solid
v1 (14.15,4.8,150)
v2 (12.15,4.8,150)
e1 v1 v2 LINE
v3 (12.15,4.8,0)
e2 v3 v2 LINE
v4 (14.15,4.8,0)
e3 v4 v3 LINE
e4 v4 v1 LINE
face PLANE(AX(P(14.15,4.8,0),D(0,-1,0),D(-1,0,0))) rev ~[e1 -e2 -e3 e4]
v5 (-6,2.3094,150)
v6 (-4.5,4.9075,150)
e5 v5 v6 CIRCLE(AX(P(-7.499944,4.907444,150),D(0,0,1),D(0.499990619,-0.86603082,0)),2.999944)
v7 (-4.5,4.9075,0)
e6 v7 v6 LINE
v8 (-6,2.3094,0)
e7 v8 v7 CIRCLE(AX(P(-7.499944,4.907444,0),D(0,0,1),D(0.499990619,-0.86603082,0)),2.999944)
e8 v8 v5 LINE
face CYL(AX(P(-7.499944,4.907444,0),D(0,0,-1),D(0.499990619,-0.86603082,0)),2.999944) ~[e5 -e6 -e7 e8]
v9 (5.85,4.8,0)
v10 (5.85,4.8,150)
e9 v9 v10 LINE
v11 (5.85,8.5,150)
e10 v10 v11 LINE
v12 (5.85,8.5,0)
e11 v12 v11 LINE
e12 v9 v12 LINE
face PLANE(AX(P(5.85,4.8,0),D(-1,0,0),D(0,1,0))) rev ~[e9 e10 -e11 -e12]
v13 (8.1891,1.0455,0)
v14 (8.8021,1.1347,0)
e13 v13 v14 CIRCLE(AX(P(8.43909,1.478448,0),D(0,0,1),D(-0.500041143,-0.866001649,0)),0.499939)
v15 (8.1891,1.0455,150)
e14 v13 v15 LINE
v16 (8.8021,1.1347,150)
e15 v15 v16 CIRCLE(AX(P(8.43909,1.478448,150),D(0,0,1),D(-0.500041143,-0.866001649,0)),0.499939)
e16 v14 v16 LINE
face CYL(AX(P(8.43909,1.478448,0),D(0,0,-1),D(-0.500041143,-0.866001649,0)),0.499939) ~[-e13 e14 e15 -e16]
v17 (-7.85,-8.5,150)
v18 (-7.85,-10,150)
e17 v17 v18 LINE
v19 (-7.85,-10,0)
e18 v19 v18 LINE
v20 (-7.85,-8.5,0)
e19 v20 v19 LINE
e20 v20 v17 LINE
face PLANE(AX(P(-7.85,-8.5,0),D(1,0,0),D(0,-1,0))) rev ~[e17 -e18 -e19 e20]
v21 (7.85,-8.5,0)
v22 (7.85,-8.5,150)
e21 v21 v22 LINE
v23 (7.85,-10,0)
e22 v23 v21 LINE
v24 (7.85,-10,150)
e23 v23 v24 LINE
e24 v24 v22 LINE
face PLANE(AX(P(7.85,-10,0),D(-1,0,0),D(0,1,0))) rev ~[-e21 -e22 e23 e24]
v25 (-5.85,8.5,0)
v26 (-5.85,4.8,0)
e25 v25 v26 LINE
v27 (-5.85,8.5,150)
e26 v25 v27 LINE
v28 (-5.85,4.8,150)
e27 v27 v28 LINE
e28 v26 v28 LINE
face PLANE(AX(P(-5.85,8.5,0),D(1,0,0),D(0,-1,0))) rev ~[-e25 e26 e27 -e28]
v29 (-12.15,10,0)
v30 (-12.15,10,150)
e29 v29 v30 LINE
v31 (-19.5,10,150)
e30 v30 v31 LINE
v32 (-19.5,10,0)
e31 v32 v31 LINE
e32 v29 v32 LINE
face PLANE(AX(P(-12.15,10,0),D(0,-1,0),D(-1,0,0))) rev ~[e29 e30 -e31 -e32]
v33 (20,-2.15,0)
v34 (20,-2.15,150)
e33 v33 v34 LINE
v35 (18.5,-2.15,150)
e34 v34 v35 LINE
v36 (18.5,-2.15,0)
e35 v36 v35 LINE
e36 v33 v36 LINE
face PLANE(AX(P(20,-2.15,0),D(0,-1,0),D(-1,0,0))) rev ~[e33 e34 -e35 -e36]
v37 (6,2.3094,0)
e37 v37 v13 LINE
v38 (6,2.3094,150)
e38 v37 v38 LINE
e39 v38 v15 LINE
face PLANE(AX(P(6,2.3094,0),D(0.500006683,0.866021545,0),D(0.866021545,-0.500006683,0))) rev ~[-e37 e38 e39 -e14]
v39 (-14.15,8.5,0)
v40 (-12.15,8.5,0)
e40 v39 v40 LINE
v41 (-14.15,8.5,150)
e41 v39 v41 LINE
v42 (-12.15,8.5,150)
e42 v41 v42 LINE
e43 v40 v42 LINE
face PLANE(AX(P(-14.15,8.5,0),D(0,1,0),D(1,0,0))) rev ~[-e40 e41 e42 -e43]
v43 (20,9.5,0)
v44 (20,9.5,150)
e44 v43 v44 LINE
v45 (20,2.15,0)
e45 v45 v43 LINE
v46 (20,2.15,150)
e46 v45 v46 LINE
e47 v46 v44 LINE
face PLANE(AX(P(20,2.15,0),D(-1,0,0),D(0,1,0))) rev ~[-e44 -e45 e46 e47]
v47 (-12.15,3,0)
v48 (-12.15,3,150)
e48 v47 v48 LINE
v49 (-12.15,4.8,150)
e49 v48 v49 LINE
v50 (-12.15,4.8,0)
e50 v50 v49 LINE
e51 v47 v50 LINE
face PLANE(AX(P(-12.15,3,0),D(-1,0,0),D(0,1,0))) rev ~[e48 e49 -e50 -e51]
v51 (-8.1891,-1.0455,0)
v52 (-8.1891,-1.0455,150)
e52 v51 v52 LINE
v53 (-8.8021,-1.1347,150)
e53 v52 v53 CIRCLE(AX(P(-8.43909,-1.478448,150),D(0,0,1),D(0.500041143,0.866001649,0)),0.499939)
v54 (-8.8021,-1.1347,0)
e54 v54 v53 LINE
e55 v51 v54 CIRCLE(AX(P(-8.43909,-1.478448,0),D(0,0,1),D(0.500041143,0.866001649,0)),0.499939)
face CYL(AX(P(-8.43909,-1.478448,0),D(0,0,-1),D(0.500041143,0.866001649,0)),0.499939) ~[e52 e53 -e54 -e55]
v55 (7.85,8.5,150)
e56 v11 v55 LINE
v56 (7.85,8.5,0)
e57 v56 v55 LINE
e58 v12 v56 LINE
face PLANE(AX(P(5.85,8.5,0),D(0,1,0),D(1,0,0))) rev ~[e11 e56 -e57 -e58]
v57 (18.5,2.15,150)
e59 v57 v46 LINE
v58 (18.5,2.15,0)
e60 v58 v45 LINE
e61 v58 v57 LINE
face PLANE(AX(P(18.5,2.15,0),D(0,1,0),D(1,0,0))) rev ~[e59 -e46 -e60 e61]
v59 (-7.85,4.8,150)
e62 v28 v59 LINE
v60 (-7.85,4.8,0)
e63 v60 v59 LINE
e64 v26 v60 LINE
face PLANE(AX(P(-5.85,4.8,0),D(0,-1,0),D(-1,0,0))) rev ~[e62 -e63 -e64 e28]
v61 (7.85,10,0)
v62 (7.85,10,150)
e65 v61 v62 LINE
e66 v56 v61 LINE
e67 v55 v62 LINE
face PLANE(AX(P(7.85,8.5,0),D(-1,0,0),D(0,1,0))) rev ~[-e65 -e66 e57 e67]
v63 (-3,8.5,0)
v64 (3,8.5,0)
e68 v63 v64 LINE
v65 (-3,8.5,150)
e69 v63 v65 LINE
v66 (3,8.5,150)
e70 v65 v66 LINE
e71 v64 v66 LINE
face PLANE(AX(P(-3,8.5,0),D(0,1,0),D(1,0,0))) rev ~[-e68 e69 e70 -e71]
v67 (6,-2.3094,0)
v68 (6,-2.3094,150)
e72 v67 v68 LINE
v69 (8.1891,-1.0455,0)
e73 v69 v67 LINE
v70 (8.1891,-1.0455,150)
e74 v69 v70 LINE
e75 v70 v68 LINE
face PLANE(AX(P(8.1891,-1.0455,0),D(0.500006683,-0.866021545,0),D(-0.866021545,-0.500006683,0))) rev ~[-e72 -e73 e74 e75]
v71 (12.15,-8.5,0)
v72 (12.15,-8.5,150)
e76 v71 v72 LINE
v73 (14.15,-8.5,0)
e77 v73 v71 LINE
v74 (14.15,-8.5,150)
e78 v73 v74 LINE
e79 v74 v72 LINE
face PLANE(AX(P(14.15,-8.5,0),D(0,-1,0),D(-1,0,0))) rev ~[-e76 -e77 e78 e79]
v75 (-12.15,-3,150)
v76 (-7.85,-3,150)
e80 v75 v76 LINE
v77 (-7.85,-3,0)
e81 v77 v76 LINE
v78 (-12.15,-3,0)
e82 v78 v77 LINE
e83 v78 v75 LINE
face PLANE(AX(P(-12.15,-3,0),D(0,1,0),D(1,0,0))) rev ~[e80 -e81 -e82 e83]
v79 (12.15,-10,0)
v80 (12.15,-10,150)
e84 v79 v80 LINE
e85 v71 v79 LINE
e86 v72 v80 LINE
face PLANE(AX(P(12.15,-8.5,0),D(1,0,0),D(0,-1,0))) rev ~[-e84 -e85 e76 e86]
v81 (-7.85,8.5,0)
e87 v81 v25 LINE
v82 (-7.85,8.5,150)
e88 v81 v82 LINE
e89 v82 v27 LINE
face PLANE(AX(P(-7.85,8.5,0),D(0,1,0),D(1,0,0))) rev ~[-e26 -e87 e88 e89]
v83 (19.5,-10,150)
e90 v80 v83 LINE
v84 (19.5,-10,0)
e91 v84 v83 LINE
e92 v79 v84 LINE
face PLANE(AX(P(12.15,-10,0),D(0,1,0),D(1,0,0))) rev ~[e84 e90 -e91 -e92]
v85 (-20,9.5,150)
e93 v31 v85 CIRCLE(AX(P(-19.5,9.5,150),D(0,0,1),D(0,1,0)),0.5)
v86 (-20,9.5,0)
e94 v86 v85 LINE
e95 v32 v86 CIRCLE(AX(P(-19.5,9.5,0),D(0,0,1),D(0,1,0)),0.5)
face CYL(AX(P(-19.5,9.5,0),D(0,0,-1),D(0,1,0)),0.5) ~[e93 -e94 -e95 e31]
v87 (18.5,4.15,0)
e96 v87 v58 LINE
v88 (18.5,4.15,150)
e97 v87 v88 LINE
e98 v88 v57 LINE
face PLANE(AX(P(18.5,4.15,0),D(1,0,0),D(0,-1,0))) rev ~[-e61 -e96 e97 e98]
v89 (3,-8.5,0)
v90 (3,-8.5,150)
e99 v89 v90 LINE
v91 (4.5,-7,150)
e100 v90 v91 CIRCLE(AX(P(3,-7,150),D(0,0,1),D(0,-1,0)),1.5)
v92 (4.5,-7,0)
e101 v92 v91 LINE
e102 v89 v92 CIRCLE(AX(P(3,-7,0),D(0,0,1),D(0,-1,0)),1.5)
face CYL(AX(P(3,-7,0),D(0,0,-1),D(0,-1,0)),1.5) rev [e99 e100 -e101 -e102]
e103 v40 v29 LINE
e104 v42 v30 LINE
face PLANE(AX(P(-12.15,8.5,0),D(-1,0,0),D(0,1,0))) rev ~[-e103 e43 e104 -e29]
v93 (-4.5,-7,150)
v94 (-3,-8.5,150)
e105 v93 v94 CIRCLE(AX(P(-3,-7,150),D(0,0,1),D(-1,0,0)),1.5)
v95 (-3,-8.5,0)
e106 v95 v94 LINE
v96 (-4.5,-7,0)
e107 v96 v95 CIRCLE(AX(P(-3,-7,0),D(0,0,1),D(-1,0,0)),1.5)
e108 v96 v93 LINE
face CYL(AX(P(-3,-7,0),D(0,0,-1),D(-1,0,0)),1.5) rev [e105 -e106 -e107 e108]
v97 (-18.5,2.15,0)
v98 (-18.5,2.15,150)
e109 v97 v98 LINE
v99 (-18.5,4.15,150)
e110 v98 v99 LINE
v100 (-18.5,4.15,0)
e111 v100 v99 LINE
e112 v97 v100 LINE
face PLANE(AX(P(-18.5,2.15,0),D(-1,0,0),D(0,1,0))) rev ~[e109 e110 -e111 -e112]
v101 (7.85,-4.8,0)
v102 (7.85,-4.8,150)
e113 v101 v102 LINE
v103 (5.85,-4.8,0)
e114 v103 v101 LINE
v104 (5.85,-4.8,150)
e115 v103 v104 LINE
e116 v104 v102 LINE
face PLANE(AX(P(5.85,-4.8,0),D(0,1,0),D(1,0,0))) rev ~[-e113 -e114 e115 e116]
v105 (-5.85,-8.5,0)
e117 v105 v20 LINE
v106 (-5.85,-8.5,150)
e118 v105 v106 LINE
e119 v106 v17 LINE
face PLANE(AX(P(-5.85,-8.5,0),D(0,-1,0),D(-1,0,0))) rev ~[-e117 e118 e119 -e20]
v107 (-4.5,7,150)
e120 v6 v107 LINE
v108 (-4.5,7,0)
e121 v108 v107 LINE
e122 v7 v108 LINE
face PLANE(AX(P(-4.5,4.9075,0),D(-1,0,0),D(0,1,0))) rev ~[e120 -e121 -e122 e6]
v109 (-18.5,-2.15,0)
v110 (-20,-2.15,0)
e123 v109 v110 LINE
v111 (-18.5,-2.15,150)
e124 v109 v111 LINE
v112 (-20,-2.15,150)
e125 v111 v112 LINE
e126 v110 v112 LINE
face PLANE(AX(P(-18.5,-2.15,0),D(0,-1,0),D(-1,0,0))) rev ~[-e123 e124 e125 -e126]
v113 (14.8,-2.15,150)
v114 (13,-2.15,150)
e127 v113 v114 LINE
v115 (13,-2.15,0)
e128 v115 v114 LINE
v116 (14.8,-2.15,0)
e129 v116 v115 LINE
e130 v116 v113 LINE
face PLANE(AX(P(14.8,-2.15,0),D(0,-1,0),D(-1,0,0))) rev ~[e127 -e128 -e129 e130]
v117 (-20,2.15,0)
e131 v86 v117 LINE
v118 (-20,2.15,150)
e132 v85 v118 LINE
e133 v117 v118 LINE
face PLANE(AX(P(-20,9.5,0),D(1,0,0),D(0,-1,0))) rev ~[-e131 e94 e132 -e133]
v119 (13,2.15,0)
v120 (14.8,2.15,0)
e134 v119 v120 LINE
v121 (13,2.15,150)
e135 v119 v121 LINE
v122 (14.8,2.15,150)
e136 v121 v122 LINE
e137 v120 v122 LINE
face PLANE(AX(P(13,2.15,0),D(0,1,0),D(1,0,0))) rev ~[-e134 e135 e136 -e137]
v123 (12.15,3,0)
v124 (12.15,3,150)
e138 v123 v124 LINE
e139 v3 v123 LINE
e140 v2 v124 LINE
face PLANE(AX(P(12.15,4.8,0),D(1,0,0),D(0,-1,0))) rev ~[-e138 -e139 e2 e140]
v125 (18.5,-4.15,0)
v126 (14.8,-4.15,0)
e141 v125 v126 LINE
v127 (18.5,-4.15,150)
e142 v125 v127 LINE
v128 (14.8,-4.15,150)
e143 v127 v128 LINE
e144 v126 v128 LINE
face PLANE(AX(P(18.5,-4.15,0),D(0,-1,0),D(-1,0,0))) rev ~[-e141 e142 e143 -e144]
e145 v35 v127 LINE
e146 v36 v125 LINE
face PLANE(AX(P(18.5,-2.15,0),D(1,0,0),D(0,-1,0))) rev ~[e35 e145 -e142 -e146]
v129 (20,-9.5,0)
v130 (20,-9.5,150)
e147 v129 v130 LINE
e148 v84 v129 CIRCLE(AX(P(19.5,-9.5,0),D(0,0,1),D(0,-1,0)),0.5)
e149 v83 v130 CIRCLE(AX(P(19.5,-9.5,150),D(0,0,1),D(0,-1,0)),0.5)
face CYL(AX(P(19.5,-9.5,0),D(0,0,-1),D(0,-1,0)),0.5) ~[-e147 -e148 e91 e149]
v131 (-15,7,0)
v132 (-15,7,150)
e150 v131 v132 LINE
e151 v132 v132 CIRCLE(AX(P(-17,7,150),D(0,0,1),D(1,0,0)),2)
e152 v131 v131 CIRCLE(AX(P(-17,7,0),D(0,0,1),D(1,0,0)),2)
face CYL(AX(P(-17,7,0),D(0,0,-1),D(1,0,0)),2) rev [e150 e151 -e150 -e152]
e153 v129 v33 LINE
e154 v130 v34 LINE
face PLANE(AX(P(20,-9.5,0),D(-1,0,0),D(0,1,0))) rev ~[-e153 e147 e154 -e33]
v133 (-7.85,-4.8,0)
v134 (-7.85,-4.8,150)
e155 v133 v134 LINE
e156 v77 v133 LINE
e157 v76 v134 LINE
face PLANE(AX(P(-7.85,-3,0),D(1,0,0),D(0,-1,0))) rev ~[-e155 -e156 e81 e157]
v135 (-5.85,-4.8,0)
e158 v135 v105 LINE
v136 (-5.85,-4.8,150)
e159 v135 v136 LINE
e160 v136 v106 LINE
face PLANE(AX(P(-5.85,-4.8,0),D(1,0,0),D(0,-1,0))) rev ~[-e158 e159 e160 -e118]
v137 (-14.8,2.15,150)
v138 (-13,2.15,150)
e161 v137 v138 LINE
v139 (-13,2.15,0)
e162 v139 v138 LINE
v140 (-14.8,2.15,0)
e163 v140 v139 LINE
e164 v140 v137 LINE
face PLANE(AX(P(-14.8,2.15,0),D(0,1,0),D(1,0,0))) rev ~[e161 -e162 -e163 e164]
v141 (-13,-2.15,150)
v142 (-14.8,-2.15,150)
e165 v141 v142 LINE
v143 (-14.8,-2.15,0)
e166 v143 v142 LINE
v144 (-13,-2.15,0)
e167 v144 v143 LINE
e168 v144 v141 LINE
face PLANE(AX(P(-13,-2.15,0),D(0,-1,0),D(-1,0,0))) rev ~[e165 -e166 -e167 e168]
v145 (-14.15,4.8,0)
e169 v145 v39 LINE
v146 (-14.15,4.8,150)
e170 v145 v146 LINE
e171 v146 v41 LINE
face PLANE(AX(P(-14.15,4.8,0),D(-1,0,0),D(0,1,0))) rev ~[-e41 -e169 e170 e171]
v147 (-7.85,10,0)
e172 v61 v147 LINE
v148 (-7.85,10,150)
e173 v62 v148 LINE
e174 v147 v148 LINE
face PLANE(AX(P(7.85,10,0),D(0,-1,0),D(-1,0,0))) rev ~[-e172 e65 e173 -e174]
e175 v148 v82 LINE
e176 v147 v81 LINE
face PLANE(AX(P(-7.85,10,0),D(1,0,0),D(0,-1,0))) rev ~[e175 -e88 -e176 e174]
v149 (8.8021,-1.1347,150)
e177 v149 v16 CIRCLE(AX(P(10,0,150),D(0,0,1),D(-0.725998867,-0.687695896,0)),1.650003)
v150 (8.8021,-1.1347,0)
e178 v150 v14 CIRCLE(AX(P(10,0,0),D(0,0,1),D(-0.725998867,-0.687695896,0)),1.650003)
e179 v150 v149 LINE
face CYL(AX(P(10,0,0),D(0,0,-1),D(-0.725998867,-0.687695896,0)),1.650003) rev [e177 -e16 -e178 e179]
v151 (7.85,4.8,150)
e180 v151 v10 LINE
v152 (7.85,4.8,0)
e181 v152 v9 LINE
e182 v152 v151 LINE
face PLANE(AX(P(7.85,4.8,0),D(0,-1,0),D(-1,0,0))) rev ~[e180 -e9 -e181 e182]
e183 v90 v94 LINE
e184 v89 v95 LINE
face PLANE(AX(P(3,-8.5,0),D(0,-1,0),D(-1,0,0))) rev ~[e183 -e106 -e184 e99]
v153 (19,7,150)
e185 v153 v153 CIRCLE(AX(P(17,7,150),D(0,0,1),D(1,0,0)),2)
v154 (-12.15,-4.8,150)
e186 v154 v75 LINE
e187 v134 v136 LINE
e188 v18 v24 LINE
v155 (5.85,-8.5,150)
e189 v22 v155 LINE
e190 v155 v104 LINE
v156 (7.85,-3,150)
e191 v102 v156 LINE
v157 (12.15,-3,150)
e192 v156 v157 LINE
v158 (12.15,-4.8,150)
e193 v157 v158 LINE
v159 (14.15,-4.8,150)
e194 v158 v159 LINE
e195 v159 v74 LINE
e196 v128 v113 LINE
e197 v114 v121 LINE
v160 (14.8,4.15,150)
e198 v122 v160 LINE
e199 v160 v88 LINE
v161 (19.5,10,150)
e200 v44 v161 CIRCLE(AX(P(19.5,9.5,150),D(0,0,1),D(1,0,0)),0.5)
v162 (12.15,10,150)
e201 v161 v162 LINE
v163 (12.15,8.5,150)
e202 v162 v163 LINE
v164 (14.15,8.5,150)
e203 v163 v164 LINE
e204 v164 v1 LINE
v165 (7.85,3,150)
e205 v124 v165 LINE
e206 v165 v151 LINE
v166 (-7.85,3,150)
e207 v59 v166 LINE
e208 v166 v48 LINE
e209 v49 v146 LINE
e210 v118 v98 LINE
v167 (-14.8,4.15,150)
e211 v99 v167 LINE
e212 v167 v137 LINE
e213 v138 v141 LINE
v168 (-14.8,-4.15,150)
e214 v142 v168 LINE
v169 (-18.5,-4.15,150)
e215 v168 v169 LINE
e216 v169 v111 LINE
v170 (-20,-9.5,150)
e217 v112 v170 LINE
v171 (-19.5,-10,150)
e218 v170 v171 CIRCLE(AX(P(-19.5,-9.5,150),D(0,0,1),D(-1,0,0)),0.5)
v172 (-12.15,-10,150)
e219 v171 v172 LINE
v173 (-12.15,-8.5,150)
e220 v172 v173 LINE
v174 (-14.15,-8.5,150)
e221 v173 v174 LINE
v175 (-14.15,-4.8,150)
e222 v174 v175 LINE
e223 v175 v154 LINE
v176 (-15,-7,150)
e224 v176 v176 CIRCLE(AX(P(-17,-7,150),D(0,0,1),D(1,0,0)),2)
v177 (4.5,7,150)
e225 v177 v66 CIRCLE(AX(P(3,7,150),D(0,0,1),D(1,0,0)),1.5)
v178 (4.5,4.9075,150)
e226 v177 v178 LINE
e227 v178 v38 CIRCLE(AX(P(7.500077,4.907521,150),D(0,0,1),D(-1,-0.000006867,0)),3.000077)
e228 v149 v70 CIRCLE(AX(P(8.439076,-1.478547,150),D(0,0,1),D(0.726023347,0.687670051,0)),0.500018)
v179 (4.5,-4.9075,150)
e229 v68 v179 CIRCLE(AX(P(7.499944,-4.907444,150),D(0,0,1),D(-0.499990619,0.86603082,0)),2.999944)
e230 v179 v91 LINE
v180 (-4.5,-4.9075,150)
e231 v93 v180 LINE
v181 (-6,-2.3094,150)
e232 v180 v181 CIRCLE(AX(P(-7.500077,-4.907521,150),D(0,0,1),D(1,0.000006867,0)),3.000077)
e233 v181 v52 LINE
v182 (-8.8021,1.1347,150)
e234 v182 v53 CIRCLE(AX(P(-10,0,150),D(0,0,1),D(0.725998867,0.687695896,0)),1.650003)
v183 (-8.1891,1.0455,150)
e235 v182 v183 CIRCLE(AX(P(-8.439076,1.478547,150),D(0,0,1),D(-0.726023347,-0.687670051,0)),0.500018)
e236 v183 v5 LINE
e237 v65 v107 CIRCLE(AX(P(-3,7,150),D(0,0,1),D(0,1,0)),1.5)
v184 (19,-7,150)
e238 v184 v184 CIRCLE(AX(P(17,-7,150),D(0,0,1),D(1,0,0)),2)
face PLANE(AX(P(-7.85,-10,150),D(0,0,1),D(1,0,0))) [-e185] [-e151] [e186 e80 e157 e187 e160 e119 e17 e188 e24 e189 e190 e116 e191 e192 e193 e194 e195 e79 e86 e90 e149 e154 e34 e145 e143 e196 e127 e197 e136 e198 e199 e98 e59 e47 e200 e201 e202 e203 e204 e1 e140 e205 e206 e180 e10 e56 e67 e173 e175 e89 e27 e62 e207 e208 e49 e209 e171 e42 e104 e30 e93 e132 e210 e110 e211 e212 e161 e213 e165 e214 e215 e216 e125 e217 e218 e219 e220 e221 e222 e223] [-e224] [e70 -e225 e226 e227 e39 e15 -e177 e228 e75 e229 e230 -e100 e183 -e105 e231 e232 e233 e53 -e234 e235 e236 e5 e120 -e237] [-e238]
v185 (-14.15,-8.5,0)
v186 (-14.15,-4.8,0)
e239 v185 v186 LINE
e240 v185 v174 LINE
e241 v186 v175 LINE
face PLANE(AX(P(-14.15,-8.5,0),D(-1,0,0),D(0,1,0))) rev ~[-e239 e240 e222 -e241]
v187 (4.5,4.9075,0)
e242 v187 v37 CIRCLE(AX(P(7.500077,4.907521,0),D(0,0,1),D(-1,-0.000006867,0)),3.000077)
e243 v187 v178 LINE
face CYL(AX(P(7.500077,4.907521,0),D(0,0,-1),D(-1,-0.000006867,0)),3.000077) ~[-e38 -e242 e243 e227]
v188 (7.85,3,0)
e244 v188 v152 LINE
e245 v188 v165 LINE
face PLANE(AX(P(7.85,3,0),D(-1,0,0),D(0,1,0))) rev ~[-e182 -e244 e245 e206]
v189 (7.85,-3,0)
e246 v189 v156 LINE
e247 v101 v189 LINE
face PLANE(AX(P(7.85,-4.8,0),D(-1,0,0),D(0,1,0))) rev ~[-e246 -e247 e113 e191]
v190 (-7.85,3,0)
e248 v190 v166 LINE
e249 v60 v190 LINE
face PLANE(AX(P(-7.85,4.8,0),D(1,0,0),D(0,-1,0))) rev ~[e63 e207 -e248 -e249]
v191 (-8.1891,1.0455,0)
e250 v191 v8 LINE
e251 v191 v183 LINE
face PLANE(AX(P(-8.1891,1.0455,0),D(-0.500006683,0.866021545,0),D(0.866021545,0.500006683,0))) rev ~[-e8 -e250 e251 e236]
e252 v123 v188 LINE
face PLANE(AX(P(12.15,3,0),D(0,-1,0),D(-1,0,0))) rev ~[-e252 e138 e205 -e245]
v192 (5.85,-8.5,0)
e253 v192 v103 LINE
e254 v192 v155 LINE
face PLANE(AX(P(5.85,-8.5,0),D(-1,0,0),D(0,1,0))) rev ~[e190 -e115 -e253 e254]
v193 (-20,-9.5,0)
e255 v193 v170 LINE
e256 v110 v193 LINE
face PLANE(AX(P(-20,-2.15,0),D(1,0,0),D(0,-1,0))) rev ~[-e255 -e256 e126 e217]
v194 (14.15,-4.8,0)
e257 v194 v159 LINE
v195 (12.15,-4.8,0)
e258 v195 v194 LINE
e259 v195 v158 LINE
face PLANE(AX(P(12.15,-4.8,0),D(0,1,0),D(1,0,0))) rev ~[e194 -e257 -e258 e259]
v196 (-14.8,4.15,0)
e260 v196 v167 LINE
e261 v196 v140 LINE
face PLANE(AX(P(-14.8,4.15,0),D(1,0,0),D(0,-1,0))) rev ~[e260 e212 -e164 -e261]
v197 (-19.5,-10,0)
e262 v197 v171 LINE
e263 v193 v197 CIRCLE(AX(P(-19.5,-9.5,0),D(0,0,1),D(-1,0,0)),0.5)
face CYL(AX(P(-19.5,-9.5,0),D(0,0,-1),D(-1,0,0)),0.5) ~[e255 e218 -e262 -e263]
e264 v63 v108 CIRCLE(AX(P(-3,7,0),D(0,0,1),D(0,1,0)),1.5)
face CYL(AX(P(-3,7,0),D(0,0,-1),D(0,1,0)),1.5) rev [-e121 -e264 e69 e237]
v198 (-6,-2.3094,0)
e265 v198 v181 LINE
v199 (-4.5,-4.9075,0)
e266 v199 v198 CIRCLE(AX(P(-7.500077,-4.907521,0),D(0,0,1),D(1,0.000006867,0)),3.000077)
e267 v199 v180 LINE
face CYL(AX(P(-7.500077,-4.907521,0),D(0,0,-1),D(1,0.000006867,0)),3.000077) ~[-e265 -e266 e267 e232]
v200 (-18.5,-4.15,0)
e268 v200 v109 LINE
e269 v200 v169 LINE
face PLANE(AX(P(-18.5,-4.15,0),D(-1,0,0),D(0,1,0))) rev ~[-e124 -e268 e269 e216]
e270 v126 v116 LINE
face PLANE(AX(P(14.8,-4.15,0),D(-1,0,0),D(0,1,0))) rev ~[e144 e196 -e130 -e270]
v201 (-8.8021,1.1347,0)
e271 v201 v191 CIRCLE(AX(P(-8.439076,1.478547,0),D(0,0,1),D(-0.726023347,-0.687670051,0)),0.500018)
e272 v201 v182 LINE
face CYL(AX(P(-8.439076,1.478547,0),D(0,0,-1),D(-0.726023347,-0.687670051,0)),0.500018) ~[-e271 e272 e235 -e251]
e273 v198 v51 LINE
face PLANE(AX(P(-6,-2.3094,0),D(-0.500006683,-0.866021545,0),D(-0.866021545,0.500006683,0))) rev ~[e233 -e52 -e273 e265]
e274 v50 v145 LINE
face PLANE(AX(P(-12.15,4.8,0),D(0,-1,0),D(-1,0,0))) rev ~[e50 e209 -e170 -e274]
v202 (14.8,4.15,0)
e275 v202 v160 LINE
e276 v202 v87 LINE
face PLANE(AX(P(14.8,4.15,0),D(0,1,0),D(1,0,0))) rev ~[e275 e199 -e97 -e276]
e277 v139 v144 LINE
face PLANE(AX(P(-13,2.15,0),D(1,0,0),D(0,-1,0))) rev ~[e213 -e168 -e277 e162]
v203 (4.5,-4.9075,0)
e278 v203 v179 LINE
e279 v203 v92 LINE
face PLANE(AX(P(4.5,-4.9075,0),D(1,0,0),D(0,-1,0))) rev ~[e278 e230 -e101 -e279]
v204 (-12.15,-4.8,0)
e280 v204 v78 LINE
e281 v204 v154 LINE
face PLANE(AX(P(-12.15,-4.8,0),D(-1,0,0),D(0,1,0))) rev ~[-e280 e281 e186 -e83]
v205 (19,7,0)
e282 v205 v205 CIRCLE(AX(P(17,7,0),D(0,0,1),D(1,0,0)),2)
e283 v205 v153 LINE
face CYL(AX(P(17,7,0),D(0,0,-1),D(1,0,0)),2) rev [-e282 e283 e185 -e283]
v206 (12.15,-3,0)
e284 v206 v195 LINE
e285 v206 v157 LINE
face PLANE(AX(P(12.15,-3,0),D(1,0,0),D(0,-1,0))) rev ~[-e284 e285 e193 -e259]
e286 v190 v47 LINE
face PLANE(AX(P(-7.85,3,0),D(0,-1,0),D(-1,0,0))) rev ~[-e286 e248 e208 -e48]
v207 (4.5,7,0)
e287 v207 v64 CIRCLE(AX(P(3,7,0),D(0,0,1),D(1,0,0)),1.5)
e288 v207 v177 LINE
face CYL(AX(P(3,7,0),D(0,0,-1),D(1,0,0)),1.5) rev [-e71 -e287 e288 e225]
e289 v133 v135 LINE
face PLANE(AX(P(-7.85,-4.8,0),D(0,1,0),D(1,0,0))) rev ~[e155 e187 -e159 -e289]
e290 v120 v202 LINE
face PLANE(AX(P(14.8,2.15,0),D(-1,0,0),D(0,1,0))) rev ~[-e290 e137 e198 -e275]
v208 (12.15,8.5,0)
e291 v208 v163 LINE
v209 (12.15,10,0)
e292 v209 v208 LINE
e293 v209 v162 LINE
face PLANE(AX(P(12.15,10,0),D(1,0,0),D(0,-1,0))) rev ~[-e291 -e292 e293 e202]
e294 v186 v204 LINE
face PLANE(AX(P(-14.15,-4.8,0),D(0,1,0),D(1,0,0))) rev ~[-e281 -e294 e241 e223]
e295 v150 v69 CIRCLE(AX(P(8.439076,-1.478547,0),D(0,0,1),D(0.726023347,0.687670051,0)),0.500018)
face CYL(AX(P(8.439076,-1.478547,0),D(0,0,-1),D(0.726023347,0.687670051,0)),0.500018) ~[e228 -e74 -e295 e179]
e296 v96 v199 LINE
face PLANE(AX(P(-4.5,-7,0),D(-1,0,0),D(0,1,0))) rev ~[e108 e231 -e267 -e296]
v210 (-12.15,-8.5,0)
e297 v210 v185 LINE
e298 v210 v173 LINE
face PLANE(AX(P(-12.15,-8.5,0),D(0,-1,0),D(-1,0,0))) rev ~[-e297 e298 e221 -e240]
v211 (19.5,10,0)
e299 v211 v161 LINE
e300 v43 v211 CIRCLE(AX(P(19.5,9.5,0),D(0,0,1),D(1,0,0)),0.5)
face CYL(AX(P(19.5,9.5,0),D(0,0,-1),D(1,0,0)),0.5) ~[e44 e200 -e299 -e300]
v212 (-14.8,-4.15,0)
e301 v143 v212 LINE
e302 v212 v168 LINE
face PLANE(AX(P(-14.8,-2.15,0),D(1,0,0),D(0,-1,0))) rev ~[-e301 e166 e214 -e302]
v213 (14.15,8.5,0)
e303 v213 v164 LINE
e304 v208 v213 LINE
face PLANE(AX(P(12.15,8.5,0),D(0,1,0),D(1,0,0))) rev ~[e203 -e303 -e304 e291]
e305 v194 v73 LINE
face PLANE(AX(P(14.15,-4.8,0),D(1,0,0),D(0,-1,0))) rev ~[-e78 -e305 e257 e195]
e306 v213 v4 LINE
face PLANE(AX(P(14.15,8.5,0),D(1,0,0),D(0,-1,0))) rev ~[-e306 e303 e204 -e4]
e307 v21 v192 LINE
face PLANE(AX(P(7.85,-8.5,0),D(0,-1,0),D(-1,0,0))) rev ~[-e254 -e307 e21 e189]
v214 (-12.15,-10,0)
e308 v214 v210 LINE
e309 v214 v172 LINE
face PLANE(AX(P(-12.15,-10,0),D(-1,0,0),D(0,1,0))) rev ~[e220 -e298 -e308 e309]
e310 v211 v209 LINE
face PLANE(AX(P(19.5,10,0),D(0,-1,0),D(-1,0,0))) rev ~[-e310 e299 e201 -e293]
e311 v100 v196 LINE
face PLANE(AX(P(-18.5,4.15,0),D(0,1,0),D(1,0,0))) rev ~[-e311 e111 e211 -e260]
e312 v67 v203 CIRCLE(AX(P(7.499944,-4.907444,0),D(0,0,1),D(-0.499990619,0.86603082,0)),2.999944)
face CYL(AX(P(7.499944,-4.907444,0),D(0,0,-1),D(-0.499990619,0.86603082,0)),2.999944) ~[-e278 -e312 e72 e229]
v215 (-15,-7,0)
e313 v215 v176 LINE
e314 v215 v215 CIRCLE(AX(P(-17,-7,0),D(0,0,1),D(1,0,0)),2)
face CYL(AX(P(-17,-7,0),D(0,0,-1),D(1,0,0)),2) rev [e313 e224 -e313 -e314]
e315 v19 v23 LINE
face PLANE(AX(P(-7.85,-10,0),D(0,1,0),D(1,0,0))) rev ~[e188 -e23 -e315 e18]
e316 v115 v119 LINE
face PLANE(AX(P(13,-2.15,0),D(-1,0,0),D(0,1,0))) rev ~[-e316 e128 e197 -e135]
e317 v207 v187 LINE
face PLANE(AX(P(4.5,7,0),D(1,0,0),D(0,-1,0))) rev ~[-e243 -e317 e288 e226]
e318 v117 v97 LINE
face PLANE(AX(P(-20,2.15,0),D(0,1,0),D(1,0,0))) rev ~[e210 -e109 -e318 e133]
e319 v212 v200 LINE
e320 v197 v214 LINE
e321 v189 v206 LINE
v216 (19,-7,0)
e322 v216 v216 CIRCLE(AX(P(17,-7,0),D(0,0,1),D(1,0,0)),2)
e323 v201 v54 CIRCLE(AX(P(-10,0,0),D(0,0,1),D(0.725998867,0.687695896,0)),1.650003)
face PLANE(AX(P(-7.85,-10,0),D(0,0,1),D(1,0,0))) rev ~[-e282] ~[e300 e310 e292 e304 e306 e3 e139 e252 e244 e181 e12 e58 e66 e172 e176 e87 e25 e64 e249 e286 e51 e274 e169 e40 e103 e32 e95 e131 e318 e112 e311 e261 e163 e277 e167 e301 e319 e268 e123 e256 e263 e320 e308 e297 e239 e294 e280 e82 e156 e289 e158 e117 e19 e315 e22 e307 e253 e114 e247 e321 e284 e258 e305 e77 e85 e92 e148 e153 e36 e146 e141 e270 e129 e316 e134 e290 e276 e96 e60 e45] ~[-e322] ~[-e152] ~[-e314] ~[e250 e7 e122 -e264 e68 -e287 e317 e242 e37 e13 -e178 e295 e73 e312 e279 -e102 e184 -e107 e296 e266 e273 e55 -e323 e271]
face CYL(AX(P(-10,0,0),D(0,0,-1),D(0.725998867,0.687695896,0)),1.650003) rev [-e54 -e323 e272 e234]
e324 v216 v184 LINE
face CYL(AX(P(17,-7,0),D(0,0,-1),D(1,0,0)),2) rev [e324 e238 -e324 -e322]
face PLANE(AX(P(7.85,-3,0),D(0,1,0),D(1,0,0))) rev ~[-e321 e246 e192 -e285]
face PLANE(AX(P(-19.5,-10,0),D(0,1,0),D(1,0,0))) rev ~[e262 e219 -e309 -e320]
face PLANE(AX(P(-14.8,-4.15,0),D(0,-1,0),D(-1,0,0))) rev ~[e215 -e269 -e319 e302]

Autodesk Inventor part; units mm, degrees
ref_plane "YZ Plane" through (0, 0, 0) normal (1, 0, 0) x (0, 1, 0)
ref_plane "XZ Plane" through (0, 0, 0) normal (0, 1, 0) x (-1, 0, 0)
ref_plane "XY Plane" through (0, 0, 0) normal (0, 0, 1) x (1, 0, 0)
sketch "スケッチ1" plane through (-7.85, -10, 0) normal (0, 0, 1) x (1, 0, 0)
  line L0 (-6.3, 14.8) -> (-6.3, 18.5) projected
  line L1 (0, 13) -> (-4.3, 13) projected
  line L2 (-4.3, 13) -> (-4.3, 14.8) projected
  line L3 (-4.3, 14.8) -> (-6.3, 14.8) projected
  line L4 (-6.3, 14.8) -> (-6.3, 18.5) projected
  line L5 (-6.3, 18.5) -> (-4.3, 18.5) projected
  line L6 (-4.3, 18.5) -> (-4.3, 20) projected
  line L7 (-4.3, 20) -> (-11.65, 20) projected
  arc A0 (-11.65, 20) -> (-12.15, 19.5) centre (-11.65, 19.5) ccw projected
  line L8 (-12.15, 19.5) -> (-12.15, 12.15) projected
  line L9 (-12.15, 12.15) -> (-10.65, 12.15) projected
  line L10 (-10.65, 12.15) -> (-10.65, 14.15) projected
  line L11 (-10.65, 14.15) -> (-6.95, 14.15) projected
  line L12 (-6.95, 14.15) -> (-6.95, 12.15) projected
  line L13 (-6.95, 12.15) -> (-5.15, 12.15) projected
  line L14 (-5.15, 12.15) -> (-5.15, 7.85) projected
  line L15 (-5.15, 7.85) -> (-6.95, 7.85) projected
  line L16 (-6.95, 7.85) -> (-6.95, 5.85) projected
  line L17 (-6.95, 5.85) -> (-10.65, 5.85) projected
  line L18 (-10.65, 5.85) -> (-10.65, 7.85) projected
  line L19 (-10.65, 7.85) -> (-12.15, 7.85) projected
  line L20 (-12.15, 7.85) -> (-12.15, 0.5) projected
  arc A1 (-12.15, 0.5) -> (-11.65, 0) centre (-11.65, 0.5) ccw projected
  line L21 (-11.65, 0) -> (-4.3, 0) projected
  line L22 (-4.3, 0) -> (-4.3, 1.5) projected
  line L23 (-4.3, 1.5) -> (-6.3, 1.5) projected
  line L24 (-6.3, 1.5) -> (-6.3, 5.2) projected
  line L25 (-6.3, 5.2) -> (-4.3, 5.2) projected
  line L26 (-4.3, 5.2) -> (-4.3, 7) projected
  line L27 (-4.3, 7) -> (0, 7) projected
  line L28 (0, 7) -> (0, 5.2) projected
  line L29 (0, 5.2) -> (2, 5.2) projected
  line L30 (2, 5.2) -> (2, 1.5) projected
  line L31 (2, 1.5) -> (0, 1.5) projected
  line L32 (0, 1.5) -> (0, 0) projected
  line L33 (0, 0) -> (15.7, 0) projected
  line L34 (15.7, 0) -> (15.7, 1.5) projected
  line L35 (15.7, 1.5) -> (13.7, 1.5) projected
  line L36 (13.7, 1.5) -> (13.7, 5.2) projected
  line L37 (13.7, 5.2) -> (15.7, 5.2) projected
  line L38 (15.7, 5.2) -> (15.7, 7) projected
  line L39 (15.7, 7) -> (20, 7) projected
  line L40 (20, 7) -> (20, 5.2) projected
  line L41 (20, 5.2) -> (22, 5.2) projected
  line L42 (22, 5.2) -> (22, 1.5) projected
  line L43 (22, 1.5) -> (20, 1.5) projected
  line L44 (20, 1.5) -> (20, 0) projected
  line L45 (20, 0) -> (27.35, 0) projected
  arc A2 (27.35, 0) -> (27.85, 0.5) centre (27.35, 0.5) ccw projected
  line L46 (27.85, 0.5) -> (27.85, 7.85) projected
  line L47 (27.85, 7.85) -> (26.35, 7.85) projected
  line L48 (26.35, 7.85) -> (26.35, 5.85) projected
  line L49 (26.35, 5.85) -> (22.65, 5.85) projected
  line L50 (22.65, 5.85) -> (22.65, 7.85) projected
  line L51 (22.65, 7.85) -> (20.85, 7.85) projected
  line L52 (20.85, 7.85) -> (20.85, 12.15) projected
  line L53 (20.85, 12.15) -> (22.65, 12.15) projected
  line L54 (22.65, 12.15) -> (22.65, 14.15) projected
  line L55 (22.65, 14.15) -> (26.35, 14.15) projected
  line L56 (26.35, 14.15) -> (26.35, 12.15) projected
  line L57 (26.35, 12.15) -> (27.85, 12.15) projected
  line L58 (27.85, 12.15) -> (27.85, 19.5) projected
  arc A3 (27.85, 19.5) -> (27.35, 20) centre (27.35, 19.5) ccw projected
  line L59 (27.35, 20) -> (20, 20) projected
  line L60 (20, 20) -> (20, 18.5) projected
  line L61 (20, 18.5) -> (22, 18.5) projected
  line L62 (22, 18.5) -> (22, 14.8) projected
  line L63 (22, 14.8) -> (20, 14.8) projected
  line L64 (20, 14.8) -> (20, 13) projected
  line L65 (20, 13) -> (15.7, 13) projected
  line L66 (15.7, 13) -> (15.7, 14.8) projected
  line L67 (15.7, 14.8) -> (13.7, 14.8) projected
  line L68 (13.7, 14.8) -> (13.7, 18.5) projected
  line L69 (13.7, 18.5) -> (15.7, 18.5) projected
  line L70 (15.7, 18.5) -> (15.7, 20) projected
  line L71 (15.7, 20) -> (0, 20) projected
  line L72 (0, 20) -> (0, 18.5) projected
  line L73 (0, 18.5) -> (2, 18.5) projected
  line L74 (2, 18.5) -> (2, 14.8) projected
  line L75 (2, 14.8) -> (0, 14.8) projected
  line L76 (0, 14.8) -> (0, 13) projected
  line L77 (12.35, 17) -> (12.35, 14.9075) projected
  arc A4 (12.35, 14.9075) -> (13.85, 12.3094) centre (15.35, 14.9075) ccw projected
  line L78 (13.85, 12.3094) -> (16.0391, 11.0455) projected
  arc A5 (16.0391, 11.0455) -> (16.6521, 11.1347) centre (16.2891, 11.4785) ccw projected
  arc A6 (16.6521, 8.8653) -> (16.6521, 11.1347) centre (17.85, 10) ccw projected
  arc A7 (16.6521, 8.8653) -> (16.0391, 8.9545) centre (16.2891, 8.5215) ccw projected
  line L79 (16.0391, 8.9545) -> (13.85, 7.6906) projected
  arc A8 (13.85, 7.6906) -> (12.35, 5.0925) centre (15.35, 5.0925) ccw projected
  line L80 (12.35, 5.0925) -> (12.35, 3) projected
  arc A9 (10.85, 1.5) -> (12.35, 3) centre (10.85, 3) ccw projected
  line L81 (10.85, 1.5) -> (4.85, 1.5) projected
  arc A10 (3.35, 3) -> (4.85, 1.5) centre (4.85, 3) ccw projected
  line L82 (3.35, 3) -> (3.35, 5.0925) projected
  arc A11 (3.35, 5.0925) -> (1.85, 7.6906) centre (0.35, 5.0925) ccw projected
  line L83 (1.85, 7.6906) -> (-0.3391, 8.9545) projected
  arc A12 (-0.3391, 8.9545) -> (-0.9521, 8.8653) centre (-0.5891, 8.5215) ccw projected
  arc A13 (-0.9521, 11.1347) -> (-0.9521, 8.8653) centre (-2.15, 10) ccw projected
  arc A14 (-0.9521, 11.1347) -> (-0.3391, 11.0455) centre (-0.5891, 11.4785) ccw projected
  line L84 (-0.3391, 11.0455) -> (1.85, 12.3094) projected
  arc A15 (1.85, 12.3094) -> (3.35, 14.9075) centre (0.35, 14.9075) ccw projected
  line L85 (3.35, 14.9075) -> (3.35, 17) projected
  arc A16 (4.85, 18.5) -> (3.35, 17) centre (4.85, 17) ccw projected
  line L86 (4.85, 18.5) -> (10.85, 18.5) projected
  arc A17 (12.35, 17) -> (10.85, 18.5) centre (10.85, 17) ccw projected
  circle A18 centre (24.85, 3) radius 2 projected
  circle A19 centre (-9.15, 3) radius 2 projected
  circle A20 centre (-9.15, 17) radius 2 projected
  circle A21 centre (24.85, 17) radius 2 projected
  point P0 (7.85, 10)
extrude "押し出し1" add sketch "スケッチ1" along normal blind 150
equation "\"d0\" = L"
equation "\"L\" = 150"
properties part number "AFS-2040-4-150" material "アルミニウム 6061"
